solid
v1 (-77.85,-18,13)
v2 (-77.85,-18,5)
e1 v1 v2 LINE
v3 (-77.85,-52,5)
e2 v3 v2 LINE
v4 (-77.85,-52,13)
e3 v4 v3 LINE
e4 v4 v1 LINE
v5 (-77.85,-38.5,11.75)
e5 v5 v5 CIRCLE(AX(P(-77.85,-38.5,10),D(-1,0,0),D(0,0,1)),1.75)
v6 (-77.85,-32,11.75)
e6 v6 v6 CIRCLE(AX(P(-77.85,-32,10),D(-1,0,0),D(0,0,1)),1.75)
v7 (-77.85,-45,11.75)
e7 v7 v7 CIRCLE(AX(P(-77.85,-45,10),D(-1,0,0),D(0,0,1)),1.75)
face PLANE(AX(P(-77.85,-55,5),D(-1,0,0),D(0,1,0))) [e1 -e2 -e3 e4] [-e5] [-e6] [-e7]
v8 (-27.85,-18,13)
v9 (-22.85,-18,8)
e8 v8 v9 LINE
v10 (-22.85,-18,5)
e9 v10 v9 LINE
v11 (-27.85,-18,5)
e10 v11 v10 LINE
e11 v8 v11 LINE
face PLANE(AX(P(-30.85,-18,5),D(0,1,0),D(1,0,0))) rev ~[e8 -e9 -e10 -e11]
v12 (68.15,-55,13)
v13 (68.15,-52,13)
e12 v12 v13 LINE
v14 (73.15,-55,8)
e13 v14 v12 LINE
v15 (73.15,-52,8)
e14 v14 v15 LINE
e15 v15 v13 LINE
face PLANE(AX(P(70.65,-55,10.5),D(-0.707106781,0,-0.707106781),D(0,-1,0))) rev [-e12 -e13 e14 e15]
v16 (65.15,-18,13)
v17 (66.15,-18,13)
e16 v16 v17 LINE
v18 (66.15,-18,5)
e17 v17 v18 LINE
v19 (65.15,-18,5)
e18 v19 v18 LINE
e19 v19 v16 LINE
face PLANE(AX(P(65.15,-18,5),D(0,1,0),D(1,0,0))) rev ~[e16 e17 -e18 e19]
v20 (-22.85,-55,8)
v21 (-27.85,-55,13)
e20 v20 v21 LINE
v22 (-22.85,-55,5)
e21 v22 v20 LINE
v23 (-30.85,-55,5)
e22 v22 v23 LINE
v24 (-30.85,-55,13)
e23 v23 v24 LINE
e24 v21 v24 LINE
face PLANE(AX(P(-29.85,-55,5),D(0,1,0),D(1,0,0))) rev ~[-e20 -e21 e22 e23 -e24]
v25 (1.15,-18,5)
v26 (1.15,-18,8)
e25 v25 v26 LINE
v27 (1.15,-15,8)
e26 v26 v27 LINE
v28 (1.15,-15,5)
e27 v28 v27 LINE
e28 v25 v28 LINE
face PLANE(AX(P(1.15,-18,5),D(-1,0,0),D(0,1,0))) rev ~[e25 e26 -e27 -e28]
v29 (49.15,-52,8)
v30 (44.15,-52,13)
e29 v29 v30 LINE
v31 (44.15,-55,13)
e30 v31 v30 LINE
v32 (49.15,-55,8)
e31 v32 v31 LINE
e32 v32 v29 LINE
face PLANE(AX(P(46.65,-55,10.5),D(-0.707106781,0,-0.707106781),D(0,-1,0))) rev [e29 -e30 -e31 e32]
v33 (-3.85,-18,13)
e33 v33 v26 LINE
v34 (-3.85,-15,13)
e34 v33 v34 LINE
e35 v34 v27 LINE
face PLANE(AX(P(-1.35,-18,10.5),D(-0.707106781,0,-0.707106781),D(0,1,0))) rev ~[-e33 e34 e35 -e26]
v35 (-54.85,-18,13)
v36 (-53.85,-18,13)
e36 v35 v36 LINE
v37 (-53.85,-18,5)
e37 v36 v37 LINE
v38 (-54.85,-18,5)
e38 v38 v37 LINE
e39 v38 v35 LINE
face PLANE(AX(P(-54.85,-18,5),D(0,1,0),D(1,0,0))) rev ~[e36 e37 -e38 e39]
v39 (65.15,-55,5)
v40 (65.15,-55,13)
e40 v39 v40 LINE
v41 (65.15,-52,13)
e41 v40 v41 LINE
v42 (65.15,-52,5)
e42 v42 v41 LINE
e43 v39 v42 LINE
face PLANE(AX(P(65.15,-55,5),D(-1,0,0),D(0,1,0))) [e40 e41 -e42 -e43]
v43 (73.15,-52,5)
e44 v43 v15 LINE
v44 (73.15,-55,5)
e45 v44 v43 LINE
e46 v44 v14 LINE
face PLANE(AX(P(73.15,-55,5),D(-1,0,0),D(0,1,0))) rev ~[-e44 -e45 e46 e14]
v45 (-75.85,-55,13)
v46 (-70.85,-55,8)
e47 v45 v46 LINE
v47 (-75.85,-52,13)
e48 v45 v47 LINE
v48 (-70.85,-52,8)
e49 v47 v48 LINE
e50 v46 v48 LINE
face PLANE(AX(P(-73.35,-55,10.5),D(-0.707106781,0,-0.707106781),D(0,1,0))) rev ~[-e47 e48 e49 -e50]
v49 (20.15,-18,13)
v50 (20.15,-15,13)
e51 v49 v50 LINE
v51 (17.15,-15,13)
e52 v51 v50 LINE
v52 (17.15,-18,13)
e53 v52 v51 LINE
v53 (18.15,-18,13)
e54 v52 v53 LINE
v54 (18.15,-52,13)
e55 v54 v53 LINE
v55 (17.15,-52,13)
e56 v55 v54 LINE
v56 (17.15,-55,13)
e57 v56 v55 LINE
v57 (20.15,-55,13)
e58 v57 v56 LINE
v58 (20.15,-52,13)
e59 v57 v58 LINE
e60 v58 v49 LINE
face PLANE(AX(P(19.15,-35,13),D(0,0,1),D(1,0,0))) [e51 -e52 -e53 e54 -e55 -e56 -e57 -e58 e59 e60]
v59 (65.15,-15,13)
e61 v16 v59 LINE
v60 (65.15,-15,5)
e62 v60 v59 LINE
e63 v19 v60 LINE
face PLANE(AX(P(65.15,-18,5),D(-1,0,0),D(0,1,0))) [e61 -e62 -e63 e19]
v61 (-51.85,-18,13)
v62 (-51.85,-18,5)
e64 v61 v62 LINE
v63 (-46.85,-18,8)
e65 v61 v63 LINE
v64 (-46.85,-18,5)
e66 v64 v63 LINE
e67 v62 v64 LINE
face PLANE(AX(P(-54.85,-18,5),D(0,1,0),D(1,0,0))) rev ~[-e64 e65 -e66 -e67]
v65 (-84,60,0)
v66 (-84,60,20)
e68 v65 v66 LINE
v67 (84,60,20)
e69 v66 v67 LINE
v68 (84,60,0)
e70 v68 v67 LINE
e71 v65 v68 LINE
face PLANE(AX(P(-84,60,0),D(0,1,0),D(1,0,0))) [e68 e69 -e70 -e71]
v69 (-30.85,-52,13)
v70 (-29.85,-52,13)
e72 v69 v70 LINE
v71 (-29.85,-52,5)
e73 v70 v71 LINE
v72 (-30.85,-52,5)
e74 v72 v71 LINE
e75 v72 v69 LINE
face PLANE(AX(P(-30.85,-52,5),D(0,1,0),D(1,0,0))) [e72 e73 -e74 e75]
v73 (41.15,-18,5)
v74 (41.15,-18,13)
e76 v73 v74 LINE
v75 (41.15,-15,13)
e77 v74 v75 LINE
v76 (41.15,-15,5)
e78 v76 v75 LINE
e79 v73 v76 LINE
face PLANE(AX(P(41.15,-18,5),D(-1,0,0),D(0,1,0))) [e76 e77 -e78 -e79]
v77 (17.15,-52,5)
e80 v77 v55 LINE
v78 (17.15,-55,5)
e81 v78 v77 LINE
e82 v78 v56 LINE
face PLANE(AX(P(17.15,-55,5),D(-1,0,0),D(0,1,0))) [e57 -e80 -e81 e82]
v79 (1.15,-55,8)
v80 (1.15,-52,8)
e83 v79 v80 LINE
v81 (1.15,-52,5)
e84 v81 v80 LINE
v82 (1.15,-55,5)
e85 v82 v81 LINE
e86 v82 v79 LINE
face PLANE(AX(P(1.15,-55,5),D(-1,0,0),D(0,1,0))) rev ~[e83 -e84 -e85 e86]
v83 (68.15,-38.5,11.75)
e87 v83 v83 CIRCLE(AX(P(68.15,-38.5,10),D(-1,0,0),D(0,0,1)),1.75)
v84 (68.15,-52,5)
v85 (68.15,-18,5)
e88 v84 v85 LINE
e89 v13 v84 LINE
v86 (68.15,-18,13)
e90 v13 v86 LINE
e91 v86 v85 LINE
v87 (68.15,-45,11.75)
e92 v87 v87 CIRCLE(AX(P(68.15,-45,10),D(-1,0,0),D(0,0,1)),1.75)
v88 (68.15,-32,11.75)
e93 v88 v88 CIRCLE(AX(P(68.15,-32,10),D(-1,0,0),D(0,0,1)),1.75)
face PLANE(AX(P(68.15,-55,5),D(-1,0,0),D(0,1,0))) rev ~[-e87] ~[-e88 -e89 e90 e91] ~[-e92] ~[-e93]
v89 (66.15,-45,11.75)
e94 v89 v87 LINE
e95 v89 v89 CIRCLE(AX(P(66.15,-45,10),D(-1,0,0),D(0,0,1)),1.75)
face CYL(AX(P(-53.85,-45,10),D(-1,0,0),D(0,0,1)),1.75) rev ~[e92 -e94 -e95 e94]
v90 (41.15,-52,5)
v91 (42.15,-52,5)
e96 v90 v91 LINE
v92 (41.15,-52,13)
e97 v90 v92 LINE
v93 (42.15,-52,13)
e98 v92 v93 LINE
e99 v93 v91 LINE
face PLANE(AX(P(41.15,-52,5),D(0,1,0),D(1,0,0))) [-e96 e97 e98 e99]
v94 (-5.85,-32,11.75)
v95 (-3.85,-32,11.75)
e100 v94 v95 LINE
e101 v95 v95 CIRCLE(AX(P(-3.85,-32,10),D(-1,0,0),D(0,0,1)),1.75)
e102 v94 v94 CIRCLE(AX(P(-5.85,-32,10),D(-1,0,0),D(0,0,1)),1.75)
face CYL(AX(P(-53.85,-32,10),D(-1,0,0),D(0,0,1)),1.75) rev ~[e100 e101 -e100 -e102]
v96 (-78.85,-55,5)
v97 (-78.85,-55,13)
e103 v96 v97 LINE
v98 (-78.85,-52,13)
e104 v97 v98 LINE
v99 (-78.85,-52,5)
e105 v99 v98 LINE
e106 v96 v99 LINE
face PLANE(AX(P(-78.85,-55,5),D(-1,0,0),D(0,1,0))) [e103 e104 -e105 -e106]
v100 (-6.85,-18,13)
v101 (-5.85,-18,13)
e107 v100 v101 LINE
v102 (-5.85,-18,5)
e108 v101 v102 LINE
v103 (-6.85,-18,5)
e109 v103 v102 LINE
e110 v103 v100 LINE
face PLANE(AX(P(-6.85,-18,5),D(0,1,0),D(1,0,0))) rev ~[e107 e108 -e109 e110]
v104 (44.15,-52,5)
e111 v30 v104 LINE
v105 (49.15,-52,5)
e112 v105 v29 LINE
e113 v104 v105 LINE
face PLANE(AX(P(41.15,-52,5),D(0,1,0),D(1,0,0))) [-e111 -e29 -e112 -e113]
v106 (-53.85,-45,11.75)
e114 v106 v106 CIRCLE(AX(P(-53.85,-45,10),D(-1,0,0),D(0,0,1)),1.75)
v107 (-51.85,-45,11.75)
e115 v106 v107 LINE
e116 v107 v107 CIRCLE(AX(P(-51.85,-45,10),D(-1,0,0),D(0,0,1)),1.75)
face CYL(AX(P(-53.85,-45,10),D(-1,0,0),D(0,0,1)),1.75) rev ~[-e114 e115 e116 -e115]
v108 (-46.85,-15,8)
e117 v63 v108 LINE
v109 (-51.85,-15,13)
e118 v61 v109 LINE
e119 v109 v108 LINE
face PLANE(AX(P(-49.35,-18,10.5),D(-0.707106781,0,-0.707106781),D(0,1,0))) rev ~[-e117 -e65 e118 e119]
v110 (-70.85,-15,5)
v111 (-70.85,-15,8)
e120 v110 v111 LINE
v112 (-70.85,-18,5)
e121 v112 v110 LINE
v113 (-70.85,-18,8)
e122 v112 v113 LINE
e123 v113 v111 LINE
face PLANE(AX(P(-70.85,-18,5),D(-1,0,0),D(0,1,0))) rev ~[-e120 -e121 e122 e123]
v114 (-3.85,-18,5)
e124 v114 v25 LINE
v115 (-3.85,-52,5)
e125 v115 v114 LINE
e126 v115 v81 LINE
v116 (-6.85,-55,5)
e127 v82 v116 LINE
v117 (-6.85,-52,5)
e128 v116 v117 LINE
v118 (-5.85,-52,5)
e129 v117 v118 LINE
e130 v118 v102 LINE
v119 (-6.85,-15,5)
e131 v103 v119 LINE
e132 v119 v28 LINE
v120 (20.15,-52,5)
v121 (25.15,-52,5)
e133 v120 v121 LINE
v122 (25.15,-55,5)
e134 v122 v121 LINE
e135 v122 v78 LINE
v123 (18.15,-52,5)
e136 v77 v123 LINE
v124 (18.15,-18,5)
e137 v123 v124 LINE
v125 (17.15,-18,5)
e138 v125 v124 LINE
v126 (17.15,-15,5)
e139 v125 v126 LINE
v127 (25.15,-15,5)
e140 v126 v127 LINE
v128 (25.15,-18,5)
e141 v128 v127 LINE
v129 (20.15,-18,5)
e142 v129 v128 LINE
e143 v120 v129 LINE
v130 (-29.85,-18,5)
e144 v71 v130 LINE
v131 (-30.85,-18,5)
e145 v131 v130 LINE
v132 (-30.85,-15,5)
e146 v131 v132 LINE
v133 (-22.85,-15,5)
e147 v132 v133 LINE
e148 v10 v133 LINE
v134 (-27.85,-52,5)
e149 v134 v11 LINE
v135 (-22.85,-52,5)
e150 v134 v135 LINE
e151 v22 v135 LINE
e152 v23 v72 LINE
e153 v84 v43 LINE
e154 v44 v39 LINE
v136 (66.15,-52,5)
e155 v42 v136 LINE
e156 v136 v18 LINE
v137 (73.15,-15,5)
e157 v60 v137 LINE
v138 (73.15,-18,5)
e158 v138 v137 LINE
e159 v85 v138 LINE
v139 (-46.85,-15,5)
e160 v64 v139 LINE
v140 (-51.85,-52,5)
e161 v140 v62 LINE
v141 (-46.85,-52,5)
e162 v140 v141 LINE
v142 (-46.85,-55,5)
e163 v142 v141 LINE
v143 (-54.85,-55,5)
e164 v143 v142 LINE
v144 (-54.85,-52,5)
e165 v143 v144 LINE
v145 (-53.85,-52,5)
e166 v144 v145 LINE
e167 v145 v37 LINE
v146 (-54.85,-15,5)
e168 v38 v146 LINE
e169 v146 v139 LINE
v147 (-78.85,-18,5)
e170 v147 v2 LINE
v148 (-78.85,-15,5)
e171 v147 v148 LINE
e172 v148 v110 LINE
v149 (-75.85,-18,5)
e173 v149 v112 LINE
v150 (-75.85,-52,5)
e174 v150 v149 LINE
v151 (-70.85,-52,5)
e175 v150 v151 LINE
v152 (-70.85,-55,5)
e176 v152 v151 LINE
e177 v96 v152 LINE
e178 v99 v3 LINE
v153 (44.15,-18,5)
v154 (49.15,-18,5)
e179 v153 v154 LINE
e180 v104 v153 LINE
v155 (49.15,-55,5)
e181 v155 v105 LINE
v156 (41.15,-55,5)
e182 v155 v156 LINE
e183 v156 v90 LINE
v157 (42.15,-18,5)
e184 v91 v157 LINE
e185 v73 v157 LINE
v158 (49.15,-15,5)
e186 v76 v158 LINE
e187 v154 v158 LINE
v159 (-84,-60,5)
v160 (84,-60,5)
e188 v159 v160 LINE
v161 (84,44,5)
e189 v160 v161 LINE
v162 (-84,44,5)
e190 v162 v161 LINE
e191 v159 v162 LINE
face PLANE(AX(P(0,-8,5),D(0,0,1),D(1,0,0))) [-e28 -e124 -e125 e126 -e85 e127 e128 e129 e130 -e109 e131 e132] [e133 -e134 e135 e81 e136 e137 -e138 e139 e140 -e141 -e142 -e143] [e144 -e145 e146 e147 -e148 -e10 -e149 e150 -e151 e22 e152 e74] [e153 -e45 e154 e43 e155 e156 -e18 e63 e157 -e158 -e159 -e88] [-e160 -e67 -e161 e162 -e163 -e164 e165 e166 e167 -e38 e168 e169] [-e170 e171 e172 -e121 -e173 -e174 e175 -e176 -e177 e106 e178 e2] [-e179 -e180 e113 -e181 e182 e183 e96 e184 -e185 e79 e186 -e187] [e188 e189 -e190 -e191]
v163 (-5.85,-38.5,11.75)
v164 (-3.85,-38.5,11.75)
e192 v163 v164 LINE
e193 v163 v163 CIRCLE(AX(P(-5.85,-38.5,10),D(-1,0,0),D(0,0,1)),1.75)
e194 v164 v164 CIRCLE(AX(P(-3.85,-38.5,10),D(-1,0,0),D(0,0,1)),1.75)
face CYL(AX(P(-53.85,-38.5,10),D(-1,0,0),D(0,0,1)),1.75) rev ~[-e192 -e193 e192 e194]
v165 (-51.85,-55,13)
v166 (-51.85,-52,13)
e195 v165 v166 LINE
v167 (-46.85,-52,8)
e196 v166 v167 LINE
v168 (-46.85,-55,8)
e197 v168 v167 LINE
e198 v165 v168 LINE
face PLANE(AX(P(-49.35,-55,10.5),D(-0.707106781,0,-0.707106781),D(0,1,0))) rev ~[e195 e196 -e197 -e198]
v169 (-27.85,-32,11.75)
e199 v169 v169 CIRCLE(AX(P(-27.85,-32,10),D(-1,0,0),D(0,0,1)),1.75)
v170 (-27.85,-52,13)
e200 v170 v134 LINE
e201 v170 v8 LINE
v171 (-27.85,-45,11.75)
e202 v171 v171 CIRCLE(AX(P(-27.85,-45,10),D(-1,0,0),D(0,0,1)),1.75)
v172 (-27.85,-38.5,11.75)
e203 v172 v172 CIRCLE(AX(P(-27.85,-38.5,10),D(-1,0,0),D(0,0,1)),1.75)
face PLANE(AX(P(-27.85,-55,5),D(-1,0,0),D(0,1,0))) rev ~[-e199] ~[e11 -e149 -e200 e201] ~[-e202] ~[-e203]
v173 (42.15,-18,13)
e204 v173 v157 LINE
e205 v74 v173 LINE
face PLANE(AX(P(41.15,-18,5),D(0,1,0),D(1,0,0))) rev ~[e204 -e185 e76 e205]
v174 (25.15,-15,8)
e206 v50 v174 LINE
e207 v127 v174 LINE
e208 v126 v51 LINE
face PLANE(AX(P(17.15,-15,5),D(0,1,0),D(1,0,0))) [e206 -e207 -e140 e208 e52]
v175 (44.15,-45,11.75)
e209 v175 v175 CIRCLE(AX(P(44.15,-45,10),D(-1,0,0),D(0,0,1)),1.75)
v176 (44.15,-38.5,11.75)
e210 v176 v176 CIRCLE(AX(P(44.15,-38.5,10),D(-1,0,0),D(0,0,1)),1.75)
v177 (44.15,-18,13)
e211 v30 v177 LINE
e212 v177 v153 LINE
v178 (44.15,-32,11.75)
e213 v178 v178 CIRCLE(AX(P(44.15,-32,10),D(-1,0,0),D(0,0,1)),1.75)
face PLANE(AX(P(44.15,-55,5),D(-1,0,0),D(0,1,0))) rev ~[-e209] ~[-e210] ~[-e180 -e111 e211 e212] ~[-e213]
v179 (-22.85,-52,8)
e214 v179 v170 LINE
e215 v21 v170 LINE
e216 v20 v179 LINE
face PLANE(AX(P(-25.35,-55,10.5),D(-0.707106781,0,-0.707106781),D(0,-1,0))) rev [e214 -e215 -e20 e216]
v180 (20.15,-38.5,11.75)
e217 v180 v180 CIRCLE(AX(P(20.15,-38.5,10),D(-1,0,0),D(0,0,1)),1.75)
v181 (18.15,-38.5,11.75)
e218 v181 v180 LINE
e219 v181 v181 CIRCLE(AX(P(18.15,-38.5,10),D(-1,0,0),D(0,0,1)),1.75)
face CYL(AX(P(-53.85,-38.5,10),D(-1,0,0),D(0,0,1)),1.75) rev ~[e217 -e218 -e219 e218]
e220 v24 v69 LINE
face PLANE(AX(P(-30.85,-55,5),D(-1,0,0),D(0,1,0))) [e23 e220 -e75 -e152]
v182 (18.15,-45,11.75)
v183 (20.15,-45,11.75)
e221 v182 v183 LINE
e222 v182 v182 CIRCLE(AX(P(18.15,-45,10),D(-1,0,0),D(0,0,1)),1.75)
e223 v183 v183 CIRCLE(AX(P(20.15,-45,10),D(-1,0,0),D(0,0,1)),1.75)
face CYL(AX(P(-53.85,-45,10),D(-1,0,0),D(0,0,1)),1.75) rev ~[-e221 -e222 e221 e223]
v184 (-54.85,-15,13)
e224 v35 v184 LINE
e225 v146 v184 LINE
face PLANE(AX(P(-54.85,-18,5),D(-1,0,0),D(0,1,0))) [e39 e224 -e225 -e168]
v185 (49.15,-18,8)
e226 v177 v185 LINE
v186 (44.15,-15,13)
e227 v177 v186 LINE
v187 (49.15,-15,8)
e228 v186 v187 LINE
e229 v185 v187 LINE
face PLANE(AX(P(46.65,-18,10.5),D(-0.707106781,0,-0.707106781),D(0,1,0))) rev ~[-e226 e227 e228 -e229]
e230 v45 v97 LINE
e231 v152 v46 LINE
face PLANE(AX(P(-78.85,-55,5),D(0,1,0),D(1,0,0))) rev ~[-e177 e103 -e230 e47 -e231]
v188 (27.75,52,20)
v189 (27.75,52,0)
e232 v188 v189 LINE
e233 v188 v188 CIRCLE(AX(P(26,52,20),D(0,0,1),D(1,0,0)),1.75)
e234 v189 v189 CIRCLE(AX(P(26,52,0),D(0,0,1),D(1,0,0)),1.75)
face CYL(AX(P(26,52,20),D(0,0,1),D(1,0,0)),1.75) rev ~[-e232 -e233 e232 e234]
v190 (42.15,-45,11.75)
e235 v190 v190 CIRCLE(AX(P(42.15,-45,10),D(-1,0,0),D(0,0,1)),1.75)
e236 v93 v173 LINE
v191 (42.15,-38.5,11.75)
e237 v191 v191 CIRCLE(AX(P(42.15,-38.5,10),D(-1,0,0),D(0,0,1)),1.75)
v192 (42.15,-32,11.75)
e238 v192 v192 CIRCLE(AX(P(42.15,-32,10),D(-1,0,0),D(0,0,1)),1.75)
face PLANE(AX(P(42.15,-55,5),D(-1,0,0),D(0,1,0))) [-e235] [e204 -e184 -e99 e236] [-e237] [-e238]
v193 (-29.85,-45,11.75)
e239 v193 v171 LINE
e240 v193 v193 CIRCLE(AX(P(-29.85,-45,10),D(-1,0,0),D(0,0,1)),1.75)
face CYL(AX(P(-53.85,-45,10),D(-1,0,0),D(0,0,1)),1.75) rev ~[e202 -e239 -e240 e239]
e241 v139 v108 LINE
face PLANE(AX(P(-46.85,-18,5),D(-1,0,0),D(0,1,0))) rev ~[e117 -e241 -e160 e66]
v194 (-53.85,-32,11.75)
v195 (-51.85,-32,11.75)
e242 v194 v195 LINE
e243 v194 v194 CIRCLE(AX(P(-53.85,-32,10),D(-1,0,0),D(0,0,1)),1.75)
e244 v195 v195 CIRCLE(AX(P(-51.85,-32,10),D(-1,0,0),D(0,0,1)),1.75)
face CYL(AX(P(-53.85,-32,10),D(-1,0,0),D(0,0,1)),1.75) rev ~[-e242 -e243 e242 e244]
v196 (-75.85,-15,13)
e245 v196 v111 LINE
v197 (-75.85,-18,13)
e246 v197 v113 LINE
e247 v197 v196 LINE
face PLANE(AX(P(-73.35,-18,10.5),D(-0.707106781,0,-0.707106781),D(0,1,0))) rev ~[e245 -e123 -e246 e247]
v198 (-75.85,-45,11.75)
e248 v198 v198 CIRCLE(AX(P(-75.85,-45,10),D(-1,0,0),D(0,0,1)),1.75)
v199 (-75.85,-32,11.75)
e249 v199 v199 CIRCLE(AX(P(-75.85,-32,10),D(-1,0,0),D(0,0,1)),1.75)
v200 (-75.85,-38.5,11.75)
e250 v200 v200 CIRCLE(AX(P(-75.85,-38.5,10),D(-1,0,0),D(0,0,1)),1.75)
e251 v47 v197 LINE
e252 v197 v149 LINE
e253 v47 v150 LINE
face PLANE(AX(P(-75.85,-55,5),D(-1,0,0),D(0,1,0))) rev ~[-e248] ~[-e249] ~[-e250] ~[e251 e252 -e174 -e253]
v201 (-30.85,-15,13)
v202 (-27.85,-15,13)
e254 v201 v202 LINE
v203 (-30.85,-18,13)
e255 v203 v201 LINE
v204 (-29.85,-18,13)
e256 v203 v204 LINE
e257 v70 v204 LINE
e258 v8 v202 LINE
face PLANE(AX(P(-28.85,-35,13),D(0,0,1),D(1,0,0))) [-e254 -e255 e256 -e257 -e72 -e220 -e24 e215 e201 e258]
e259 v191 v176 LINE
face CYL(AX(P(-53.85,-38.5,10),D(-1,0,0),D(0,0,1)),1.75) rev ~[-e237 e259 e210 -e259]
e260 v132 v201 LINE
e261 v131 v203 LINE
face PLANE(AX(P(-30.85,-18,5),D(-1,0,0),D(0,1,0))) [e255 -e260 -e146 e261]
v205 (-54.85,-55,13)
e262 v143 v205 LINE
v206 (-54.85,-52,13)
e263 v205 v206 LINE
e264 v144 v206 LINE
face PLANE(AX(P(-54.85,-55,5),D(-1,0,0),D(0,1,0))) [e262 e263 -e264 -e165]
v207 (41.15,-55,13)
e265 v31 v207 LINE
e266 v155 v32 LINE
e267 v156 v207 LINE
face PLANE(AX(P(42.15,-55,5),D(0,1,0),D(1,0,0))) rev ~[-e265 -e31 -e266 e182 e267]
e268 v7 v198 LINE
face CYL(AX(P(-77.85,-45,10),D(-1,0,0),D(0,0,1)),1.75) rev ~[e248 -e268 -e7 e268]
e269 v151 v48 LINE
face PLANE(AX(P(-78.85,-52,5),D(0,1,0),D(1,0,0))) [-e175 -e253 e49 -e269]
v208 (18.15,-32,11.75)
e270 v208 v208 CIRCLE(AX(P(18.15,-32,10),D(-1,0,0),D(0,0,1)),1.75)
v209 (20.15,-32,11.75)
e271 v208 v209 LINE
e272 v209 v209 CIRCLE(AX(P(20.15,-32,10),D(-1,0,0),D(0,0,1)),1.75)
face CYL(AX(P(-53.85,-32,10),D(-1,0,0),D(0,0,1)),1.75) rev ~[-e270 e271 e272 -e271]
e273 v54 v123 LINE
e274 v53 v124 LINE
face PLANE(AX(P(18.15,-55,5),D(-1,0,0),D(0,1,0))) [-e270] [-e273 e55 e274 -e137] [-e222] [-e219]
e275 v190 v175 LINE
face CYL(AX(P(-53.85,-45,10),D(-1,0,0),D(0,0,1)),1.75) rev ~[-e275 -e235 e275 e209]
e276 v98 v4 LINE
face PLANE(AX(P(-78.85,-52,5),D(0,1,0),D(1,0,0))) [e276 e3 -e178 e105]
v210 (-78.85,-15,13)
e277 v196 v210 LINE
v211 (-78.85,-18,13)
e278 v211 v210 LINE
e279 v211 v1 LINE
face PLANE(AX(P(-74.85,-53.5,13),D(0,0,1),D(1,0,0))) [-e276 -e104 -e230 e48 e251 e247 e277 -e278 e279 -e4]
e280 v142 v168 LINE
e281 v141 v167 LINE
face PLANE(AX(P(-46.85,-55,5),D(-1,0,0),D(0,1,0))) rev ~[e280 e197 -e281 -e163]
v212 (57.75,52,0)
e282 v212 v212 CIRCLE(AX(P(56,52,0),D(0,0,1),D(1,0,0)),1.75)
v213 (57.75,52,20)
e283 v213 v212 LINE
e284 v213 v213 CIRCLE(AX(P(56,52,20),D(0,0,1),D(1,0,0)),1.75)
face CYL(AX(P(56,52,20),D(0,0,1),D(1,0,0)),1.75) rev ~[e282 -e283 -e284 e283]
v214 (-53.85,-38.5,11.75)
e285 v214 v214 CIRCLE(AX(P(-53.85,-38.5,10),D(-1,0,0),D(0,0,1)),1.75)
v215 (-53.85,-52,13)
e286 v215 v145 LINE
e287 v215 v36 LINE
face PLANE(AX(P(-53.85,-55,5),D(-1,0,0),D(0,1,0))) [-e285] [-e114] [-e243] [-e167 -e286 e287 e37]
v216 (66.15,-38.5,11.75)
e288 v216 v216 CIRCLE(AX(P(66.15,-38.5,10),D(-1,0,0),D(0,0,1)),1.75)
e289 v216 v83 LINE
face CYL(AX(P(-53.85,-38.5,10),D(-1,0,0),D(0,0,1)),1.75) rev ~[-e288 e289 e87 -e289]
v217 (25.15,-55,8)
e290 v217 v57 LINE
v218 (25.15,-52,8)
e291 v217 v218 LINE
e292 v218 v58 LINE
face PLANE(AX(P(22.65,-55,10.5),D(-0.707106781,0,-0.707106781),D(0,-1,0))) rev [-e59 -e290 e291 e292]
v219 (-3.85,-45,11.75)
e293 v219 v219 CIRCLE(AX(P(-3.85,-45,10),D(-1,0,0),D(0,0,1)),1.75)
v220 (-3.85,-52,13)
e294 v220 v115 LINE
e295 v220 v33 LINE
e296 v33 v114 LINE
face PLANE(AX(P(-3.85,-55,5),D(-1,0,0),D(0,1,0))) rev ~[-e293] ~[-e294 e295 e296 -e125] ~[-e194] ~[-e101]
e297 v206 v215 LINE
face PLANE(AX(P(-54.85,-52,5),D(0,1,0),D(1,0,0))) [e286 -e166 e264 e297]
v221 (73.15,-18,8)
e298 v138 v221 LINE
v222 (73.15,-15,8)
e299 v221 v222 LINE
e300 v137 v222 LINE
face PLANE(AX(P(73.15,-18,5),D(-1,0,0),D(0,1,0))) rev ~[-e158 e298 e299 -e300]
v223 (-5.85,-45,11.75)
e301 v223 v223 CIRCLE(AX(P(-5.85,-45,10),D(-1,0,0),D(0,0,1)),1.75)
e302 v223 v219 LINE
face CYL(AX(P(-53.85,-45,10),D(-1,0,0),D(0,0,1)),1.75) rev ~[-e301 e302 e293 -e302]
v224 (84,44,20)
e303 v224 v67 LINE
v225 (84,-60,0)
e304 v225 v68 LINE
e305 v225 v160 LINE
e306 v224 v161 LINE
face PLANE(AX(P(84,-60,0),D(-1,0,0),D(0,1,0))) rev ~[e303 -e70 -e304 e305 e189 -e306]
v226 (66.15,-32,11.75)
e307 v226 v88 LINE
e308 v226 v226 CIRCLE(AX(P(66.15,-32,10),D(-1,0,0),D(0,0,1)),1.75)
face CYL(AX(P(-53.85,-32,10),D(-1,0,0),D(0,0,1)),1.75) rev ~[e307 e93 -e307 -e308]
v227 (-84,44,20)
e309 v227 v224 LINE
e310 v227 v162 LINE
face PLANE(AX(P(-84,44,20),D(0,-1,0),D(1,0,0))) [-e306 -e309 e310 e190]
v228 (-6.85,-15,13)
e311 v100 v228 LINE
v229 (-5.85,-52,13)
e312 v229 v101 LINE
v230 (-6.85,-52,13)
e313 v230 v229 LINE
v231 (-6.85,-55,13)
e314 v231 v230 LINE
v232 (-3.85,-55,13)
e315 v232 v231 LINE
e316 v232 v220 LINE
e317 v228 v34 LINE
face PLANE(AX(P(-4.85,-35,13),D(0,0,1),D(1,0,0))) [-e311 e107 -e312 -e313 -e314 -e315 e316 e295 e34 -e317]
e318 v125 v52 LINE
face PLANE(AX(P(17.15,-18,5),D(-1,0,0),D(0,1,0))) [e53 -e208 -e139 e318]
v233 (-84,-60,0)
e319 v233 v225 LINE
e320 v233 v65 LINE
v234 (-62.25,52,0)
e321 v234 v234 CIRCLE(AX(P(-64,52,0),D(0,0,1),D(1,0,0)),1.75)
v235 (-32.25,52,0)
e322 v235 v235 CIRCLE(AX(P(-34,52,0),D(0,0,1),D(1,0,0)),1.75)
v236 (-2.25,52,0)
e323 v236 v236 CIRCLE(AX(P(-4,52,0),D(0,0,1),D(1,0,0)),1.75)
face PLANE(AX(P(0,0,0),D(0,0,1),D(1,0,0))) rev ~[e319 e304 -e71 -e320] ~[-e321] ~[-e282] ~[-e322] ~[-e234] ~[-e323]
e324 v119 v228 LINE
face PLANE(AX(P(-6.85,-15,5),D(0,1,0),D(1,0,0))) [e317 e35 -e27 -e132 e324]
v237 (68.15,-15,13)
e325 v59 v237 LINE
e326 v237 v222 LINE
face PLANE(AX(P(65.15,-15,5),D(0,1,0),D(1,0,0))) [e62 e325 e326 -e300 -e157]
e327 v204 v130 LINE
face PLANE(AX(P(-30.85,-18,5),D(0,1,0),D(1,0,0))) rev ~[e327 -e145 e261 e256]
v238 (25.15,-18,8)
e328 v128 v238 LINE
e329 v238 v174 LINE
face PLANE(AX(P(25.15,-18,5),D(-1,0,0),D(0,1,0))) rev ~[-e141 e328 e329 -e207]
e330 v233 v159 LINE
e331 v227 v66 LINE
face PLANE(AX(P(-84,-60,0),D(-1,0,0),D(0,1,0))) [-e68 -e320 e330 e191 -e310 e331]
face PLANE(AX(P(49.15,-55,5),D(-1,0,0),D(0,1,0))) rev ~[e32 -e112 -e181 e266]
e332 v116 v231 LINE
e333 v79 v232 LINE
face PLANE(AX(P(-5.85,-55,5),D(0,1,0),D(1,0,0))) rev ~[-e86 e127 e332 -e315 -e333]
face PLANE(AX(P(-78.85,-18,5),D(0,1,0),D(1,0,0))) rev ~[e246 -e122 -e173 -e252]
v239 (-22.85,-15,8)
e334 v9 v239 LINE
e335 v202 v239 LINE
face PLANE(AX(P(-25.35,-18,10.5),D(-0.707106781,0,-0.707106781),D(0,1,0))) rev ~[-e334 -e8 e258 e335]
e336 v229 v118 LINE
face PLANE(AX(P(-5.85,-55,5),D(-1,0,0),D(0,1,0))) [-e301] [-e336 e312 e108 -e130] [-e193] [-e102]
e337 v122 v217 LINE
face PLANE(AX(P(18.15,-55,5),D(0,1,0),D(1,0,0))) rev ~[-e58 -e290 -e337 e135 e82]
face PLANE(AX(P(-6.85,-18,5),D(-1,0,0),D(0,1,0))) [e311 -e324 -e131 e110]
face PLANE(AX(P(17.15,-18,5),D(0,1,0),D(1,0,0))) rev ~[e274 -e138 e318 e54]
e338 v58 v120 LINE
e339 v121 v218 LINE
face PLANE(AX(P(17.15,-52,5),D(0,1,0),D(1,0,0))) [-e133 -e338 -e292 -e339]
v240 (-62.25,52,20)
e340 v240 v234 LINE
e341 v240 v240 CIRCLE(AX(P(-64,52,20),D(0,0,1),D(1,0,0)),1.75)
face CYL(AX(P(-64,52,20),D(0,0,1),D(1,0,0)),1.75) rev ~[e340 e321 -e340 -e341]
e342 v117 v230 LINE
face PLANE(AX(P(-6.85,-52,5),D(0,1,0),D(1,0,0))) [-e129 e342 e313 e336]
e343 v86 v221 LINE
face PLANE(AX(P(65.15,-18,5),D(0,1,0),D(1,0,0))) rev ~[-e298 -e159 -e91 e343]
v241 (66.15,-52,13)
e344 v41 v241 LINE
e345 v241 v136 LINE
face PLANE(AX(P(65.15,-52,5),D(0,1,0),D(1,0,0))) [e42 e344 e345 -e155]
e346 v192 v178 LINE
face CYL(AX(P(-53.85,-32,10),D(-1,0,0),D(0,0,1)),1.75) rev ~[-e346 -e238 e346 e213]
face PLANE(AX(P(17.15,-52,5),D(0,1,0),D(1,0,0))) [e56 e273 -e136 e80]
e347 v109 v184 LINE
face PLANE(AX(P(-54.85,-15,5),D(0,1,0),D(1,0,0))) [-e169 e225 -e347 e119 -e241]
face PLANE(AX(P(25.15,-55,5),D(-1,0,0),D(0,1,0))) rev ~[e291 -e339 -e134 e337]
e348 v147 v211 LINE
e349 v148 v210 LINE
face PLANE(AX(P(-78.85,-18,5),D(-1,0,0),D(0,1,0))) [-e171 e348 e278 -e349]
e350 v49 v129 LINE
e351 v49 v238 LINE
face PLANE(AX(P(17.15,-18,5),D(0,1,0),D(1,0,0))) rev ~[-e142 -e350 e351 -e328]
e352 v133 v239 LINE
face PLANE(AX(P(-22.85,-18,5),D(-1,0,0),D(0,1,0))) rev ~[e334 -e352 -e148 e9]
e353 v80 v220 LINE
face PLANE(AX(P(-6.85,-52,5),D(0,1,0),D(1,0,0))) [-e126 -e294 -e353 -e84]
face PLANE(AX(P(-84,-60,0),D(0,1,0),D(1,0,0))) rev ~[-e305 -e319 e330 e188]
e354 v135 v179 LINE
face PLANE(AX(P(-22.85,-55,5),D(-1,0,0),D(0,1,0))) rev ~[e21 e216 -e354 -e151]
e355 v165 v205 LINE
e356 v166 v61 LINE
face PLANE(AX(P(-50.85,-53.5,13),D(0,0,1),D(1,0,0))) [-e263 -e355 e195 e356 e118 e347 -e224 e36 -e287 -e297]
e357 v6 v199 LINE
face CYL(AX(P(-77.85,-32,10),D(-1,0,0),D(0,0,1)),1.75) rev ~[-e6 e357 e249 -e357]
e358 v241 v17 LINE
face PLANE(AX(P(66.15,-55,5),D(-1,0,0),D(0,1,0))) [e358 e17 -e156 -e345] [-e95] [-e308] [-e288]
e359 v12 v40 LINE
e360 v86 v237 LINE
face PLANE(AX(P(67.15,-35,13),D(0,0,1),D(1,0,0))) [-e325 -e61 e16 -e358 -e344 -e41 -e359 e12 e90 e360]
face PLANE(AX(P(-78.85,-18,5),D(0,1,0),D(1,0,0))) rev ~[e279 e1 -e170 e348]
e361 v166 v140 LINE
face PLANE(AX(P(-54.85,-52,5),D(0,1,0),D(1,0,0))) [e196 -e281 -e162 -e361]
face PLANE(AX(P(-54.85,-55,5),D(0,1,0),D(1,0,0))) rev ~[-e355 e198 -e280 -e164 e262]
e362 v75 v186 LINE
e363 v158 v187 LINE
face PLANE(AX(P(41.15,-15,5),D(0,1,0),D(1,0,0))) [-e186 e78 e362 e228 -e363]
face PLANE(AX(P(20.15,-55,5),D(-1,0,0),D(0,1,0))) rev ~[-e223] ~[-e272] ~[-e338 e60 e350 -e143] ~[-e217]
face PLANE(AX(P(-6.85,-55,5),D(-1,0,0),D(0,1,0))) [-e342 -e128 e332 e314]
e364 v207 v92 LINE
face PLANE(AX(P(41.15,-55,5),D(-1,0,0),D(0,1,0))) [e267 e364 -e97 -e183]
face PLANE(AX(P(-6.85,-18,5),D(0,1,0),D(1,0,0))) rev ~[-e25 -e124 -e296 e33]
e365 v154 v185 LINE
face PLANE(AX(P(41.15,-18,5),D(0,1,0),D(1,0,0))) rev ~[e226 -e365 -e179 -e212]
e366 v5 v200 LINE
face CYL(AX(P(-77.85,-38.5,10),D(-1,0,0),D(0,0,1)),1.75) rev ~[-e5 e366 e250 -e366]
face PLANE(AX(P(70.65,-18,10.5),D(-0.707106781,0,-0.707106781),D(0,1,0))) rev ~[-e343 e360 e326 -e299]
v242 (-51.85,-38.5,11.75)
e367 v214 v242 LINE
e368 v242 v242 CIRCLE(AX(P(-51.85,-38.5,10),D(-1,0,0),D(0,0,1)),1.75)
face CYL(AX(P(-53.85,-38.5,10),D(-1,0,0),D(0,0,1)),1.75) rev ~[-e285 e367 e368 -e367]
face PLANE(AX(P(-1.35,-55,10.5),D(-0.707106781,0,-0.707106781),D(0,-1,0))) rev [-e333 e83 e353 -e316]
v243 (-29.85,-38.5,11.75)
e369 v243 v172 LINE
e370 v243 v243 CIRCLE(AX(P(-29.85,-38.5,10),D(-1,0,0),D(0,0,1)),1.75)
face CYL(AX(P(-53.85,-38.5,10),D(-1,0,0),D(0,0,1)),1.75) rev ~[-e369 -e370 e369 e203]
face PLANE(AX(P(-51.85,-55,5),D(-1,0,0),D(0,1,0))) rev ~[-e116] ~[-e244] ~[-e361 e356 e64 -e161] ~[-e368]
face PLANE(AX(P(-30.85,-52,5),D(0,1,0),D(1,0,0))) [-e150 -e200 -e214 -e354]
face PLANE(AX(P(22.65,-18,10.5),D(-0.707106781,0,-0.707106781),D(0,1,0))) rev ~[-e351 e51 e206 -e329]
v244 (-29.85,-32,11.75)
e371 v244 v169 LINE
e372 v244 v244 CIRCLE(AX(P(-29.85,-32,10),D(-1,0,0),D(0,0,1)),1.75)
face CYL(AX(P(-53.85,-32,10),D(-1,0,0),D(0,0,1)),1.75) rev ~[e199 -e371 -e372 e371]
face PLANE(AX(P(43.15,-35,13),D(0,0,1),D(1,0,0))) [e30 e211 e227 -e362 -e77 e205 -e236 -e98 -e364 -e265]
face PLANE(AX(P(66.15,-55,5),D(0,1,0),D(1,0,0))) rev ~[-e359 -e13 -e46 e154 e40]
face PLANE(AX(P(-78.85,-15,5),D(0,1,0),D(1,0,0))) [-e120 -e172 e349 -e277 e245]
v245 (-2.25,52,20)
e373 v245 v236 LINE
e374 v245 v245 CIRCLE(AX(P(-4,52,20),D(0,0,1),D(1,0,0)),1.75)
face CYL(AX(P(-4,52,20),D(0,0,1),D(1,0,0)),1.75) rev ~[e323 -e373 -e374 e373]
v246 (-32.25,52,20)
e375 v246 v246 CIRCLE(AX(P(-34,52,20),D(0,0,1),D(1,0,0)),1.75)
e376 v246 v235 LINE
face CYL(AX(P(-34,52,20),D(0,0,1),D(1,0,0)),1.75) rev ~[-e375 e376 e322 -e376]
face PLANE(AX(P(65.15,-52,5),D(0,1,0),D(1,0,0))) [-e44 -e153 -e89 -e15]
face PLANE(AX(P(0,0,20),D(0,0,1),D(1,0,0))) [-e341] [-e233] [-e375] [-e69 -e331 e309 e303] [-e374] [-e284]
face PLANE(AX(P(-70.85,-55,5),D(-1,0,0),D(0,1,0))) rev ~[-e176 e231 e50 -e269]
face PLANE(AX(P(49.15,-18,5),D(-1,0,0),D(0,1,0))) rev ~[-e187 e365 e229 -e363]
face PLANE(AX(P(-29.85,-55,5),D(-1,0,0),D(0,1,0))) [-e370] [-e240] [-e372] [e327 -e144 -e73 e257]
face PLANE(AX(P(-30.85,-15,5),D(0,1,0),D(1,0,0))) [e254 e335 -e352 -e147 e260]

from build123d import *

# Parameters (mm, degrees)
SKETCH1_W                  = 168
SKETCH1_H                  = 120
BOSS_EXTRUDE1_DEPTH        = 20
SKETCH2_W                  = 168
SKETCH2_H                  = 104
CUT_EXTRUDE1_DEPTH         = 15
SKETCH3_R                  = 1.75
CUT_EXTRUDE2_DEPTH         = 21
SKETCH5_W                  = 2
SKETCH5_H                  = 40
BOSS_EXTRUDE2_DEPTH        = 8
SKETCH6_R                  = 1.75
CUT_EXTRUDE3_DEPTH         = 162.85
SKETCH7_W                  = 8
SKETCH7_H                  = 3
BOSS_EXTRUDE3_DEPTH        = 8
CHAMFER1_SIZE              = 5
LPATTERN1_COUNT            = 7
LPATTERN1_PITCH            = 24
CHAMFER1_OF_LPATTERN1_SIZE = 5


with BuildPart() as part:
    # Sketch1 → Boss-Extrude1 (new body)
    with BuildSketch(Plane.XY):
        Rectangle(SKETCH1_W, SKETCH1_H)
    extrude(amount=BOSS_EXTRUDE1_DEPTH)

    # Sketch2 → Cut-Extrude1 (cut)
    with BuildSketch(Plane.XY.offset(20)):
        with Locations((0, -8)):
            Rectangle(SKETCH2_W, SKETCH2_H)
    extrude(amount=-CUT_EXTRUDE1_DEPTH, mode=Mode.SUBTRACT)

    # Sketch3 → Cut-Extrude2 (cut, through all)
    with BuildSketch(Plane.XY.offset(20)):
        with Locations((-64, 52)):
            Circle(SKETCH3_R)
        with Locations((-34, 52)):
            Circle(SKETCH3_R)
        with Locations((-4, 52)):
            Circle(SKETCH3_R)
        with Locations((26, 52)):
            Circle(SKETCH3_R)
        with Locations((56, 52)):
            Circle(SKETCH3_R)
    extrude(amount=-CUT_EXTRUDE2_DEPTH, mode=Mode.SUBTRACT)

    # Sketch5 → Boss-Extrude2 (add)
    with BuildSketch(Plane.XY.offset(5)):
        with Locations((-76.85, -35)):
            Rectangle(SKETCH5_W, SKETCH5_H)
    boss_extrude2 = extrude(amount=BOSS_EXTRUDE2_DEPTH)

    # Sketch6 → Cut-Extrude3 (cut, through all)
    with BuildSketch(Plane.ZY.offset(77.85)):
        with Locations((10, -45)):
            Circle(SKETCH6_R)
        with Locations((10, -38.5)):
            Circle(SKETCH6_R)
        with Locations((10, -32)):
            Circle(SKETCH6_R)
    cut_extrude3 = extrude(amount=-CUT_EXTRUDE3_DEPTH, mode=Mode.SUBTRACT)

    # Sketch7 → Boss-Extrude3 (add)
    with BuildSketch(Plane.XY.offset(5)):
        with Locations((-74.85, -53.5)):
            Rectangle(SKETCH7_W, SKETCH7_H)
        with Locations((-74.85, -16.5)):
            Rectangle(SKETCH7_W, SKETCH7_H)
    boss_extrude3 = extrude(amount=BOSS_EXTRUDE3_DEPTH)

    # Chamfer1
    chamfer1_edges = [part.edges().sort_by_distance(p)[0] for p in [
        (-70.85, -16.5, 13),
        (-70.85, -53.5, 13),
    ]]
    chamfer(chamfer1_edges, length=CHAMFER1_SIZE)

    # LPattern1: Boss-Extrude2, Cut-Extrude3, Boss-Extrude3 ×7
    with Locations(*[(i * LPATTERN1_PITCH, 0, 0) for i in range(1, LPATTERN1_COUNT)]):
        add(boss_extrude2)
        add(cut_extrude3, mode=Mode.SUBTRACT)
        add(boss_extrude3)

    # Chamfer1 of LPattern1
    chamfer1_of_lpattern1_edges = [part.edges().sort_by_distance(p)[0] for p in [
        (-46.85, -16.5, 13),
        (-46.85, -53.5, 13),
        (-22.85, -16.5, 13),
        (-22.85, -53.5, 13),
        (1.15, -16.5, 13),
        (1.15, -53.5, 13),
        (25.15, -16.5, 13),
        (25.15, -53.5, 13),
        (49.15, -16.5, 13),
        (49.15, -53.5, 13),
        (73.15, -16.5, 13),
        (73.15, -53.5, 13),
    ]]
    chamfer(chamfer1_of_lpattern1_edges, length=CHAMFER1_OF_LPATTERN1_SIZE)


solid = part.part
